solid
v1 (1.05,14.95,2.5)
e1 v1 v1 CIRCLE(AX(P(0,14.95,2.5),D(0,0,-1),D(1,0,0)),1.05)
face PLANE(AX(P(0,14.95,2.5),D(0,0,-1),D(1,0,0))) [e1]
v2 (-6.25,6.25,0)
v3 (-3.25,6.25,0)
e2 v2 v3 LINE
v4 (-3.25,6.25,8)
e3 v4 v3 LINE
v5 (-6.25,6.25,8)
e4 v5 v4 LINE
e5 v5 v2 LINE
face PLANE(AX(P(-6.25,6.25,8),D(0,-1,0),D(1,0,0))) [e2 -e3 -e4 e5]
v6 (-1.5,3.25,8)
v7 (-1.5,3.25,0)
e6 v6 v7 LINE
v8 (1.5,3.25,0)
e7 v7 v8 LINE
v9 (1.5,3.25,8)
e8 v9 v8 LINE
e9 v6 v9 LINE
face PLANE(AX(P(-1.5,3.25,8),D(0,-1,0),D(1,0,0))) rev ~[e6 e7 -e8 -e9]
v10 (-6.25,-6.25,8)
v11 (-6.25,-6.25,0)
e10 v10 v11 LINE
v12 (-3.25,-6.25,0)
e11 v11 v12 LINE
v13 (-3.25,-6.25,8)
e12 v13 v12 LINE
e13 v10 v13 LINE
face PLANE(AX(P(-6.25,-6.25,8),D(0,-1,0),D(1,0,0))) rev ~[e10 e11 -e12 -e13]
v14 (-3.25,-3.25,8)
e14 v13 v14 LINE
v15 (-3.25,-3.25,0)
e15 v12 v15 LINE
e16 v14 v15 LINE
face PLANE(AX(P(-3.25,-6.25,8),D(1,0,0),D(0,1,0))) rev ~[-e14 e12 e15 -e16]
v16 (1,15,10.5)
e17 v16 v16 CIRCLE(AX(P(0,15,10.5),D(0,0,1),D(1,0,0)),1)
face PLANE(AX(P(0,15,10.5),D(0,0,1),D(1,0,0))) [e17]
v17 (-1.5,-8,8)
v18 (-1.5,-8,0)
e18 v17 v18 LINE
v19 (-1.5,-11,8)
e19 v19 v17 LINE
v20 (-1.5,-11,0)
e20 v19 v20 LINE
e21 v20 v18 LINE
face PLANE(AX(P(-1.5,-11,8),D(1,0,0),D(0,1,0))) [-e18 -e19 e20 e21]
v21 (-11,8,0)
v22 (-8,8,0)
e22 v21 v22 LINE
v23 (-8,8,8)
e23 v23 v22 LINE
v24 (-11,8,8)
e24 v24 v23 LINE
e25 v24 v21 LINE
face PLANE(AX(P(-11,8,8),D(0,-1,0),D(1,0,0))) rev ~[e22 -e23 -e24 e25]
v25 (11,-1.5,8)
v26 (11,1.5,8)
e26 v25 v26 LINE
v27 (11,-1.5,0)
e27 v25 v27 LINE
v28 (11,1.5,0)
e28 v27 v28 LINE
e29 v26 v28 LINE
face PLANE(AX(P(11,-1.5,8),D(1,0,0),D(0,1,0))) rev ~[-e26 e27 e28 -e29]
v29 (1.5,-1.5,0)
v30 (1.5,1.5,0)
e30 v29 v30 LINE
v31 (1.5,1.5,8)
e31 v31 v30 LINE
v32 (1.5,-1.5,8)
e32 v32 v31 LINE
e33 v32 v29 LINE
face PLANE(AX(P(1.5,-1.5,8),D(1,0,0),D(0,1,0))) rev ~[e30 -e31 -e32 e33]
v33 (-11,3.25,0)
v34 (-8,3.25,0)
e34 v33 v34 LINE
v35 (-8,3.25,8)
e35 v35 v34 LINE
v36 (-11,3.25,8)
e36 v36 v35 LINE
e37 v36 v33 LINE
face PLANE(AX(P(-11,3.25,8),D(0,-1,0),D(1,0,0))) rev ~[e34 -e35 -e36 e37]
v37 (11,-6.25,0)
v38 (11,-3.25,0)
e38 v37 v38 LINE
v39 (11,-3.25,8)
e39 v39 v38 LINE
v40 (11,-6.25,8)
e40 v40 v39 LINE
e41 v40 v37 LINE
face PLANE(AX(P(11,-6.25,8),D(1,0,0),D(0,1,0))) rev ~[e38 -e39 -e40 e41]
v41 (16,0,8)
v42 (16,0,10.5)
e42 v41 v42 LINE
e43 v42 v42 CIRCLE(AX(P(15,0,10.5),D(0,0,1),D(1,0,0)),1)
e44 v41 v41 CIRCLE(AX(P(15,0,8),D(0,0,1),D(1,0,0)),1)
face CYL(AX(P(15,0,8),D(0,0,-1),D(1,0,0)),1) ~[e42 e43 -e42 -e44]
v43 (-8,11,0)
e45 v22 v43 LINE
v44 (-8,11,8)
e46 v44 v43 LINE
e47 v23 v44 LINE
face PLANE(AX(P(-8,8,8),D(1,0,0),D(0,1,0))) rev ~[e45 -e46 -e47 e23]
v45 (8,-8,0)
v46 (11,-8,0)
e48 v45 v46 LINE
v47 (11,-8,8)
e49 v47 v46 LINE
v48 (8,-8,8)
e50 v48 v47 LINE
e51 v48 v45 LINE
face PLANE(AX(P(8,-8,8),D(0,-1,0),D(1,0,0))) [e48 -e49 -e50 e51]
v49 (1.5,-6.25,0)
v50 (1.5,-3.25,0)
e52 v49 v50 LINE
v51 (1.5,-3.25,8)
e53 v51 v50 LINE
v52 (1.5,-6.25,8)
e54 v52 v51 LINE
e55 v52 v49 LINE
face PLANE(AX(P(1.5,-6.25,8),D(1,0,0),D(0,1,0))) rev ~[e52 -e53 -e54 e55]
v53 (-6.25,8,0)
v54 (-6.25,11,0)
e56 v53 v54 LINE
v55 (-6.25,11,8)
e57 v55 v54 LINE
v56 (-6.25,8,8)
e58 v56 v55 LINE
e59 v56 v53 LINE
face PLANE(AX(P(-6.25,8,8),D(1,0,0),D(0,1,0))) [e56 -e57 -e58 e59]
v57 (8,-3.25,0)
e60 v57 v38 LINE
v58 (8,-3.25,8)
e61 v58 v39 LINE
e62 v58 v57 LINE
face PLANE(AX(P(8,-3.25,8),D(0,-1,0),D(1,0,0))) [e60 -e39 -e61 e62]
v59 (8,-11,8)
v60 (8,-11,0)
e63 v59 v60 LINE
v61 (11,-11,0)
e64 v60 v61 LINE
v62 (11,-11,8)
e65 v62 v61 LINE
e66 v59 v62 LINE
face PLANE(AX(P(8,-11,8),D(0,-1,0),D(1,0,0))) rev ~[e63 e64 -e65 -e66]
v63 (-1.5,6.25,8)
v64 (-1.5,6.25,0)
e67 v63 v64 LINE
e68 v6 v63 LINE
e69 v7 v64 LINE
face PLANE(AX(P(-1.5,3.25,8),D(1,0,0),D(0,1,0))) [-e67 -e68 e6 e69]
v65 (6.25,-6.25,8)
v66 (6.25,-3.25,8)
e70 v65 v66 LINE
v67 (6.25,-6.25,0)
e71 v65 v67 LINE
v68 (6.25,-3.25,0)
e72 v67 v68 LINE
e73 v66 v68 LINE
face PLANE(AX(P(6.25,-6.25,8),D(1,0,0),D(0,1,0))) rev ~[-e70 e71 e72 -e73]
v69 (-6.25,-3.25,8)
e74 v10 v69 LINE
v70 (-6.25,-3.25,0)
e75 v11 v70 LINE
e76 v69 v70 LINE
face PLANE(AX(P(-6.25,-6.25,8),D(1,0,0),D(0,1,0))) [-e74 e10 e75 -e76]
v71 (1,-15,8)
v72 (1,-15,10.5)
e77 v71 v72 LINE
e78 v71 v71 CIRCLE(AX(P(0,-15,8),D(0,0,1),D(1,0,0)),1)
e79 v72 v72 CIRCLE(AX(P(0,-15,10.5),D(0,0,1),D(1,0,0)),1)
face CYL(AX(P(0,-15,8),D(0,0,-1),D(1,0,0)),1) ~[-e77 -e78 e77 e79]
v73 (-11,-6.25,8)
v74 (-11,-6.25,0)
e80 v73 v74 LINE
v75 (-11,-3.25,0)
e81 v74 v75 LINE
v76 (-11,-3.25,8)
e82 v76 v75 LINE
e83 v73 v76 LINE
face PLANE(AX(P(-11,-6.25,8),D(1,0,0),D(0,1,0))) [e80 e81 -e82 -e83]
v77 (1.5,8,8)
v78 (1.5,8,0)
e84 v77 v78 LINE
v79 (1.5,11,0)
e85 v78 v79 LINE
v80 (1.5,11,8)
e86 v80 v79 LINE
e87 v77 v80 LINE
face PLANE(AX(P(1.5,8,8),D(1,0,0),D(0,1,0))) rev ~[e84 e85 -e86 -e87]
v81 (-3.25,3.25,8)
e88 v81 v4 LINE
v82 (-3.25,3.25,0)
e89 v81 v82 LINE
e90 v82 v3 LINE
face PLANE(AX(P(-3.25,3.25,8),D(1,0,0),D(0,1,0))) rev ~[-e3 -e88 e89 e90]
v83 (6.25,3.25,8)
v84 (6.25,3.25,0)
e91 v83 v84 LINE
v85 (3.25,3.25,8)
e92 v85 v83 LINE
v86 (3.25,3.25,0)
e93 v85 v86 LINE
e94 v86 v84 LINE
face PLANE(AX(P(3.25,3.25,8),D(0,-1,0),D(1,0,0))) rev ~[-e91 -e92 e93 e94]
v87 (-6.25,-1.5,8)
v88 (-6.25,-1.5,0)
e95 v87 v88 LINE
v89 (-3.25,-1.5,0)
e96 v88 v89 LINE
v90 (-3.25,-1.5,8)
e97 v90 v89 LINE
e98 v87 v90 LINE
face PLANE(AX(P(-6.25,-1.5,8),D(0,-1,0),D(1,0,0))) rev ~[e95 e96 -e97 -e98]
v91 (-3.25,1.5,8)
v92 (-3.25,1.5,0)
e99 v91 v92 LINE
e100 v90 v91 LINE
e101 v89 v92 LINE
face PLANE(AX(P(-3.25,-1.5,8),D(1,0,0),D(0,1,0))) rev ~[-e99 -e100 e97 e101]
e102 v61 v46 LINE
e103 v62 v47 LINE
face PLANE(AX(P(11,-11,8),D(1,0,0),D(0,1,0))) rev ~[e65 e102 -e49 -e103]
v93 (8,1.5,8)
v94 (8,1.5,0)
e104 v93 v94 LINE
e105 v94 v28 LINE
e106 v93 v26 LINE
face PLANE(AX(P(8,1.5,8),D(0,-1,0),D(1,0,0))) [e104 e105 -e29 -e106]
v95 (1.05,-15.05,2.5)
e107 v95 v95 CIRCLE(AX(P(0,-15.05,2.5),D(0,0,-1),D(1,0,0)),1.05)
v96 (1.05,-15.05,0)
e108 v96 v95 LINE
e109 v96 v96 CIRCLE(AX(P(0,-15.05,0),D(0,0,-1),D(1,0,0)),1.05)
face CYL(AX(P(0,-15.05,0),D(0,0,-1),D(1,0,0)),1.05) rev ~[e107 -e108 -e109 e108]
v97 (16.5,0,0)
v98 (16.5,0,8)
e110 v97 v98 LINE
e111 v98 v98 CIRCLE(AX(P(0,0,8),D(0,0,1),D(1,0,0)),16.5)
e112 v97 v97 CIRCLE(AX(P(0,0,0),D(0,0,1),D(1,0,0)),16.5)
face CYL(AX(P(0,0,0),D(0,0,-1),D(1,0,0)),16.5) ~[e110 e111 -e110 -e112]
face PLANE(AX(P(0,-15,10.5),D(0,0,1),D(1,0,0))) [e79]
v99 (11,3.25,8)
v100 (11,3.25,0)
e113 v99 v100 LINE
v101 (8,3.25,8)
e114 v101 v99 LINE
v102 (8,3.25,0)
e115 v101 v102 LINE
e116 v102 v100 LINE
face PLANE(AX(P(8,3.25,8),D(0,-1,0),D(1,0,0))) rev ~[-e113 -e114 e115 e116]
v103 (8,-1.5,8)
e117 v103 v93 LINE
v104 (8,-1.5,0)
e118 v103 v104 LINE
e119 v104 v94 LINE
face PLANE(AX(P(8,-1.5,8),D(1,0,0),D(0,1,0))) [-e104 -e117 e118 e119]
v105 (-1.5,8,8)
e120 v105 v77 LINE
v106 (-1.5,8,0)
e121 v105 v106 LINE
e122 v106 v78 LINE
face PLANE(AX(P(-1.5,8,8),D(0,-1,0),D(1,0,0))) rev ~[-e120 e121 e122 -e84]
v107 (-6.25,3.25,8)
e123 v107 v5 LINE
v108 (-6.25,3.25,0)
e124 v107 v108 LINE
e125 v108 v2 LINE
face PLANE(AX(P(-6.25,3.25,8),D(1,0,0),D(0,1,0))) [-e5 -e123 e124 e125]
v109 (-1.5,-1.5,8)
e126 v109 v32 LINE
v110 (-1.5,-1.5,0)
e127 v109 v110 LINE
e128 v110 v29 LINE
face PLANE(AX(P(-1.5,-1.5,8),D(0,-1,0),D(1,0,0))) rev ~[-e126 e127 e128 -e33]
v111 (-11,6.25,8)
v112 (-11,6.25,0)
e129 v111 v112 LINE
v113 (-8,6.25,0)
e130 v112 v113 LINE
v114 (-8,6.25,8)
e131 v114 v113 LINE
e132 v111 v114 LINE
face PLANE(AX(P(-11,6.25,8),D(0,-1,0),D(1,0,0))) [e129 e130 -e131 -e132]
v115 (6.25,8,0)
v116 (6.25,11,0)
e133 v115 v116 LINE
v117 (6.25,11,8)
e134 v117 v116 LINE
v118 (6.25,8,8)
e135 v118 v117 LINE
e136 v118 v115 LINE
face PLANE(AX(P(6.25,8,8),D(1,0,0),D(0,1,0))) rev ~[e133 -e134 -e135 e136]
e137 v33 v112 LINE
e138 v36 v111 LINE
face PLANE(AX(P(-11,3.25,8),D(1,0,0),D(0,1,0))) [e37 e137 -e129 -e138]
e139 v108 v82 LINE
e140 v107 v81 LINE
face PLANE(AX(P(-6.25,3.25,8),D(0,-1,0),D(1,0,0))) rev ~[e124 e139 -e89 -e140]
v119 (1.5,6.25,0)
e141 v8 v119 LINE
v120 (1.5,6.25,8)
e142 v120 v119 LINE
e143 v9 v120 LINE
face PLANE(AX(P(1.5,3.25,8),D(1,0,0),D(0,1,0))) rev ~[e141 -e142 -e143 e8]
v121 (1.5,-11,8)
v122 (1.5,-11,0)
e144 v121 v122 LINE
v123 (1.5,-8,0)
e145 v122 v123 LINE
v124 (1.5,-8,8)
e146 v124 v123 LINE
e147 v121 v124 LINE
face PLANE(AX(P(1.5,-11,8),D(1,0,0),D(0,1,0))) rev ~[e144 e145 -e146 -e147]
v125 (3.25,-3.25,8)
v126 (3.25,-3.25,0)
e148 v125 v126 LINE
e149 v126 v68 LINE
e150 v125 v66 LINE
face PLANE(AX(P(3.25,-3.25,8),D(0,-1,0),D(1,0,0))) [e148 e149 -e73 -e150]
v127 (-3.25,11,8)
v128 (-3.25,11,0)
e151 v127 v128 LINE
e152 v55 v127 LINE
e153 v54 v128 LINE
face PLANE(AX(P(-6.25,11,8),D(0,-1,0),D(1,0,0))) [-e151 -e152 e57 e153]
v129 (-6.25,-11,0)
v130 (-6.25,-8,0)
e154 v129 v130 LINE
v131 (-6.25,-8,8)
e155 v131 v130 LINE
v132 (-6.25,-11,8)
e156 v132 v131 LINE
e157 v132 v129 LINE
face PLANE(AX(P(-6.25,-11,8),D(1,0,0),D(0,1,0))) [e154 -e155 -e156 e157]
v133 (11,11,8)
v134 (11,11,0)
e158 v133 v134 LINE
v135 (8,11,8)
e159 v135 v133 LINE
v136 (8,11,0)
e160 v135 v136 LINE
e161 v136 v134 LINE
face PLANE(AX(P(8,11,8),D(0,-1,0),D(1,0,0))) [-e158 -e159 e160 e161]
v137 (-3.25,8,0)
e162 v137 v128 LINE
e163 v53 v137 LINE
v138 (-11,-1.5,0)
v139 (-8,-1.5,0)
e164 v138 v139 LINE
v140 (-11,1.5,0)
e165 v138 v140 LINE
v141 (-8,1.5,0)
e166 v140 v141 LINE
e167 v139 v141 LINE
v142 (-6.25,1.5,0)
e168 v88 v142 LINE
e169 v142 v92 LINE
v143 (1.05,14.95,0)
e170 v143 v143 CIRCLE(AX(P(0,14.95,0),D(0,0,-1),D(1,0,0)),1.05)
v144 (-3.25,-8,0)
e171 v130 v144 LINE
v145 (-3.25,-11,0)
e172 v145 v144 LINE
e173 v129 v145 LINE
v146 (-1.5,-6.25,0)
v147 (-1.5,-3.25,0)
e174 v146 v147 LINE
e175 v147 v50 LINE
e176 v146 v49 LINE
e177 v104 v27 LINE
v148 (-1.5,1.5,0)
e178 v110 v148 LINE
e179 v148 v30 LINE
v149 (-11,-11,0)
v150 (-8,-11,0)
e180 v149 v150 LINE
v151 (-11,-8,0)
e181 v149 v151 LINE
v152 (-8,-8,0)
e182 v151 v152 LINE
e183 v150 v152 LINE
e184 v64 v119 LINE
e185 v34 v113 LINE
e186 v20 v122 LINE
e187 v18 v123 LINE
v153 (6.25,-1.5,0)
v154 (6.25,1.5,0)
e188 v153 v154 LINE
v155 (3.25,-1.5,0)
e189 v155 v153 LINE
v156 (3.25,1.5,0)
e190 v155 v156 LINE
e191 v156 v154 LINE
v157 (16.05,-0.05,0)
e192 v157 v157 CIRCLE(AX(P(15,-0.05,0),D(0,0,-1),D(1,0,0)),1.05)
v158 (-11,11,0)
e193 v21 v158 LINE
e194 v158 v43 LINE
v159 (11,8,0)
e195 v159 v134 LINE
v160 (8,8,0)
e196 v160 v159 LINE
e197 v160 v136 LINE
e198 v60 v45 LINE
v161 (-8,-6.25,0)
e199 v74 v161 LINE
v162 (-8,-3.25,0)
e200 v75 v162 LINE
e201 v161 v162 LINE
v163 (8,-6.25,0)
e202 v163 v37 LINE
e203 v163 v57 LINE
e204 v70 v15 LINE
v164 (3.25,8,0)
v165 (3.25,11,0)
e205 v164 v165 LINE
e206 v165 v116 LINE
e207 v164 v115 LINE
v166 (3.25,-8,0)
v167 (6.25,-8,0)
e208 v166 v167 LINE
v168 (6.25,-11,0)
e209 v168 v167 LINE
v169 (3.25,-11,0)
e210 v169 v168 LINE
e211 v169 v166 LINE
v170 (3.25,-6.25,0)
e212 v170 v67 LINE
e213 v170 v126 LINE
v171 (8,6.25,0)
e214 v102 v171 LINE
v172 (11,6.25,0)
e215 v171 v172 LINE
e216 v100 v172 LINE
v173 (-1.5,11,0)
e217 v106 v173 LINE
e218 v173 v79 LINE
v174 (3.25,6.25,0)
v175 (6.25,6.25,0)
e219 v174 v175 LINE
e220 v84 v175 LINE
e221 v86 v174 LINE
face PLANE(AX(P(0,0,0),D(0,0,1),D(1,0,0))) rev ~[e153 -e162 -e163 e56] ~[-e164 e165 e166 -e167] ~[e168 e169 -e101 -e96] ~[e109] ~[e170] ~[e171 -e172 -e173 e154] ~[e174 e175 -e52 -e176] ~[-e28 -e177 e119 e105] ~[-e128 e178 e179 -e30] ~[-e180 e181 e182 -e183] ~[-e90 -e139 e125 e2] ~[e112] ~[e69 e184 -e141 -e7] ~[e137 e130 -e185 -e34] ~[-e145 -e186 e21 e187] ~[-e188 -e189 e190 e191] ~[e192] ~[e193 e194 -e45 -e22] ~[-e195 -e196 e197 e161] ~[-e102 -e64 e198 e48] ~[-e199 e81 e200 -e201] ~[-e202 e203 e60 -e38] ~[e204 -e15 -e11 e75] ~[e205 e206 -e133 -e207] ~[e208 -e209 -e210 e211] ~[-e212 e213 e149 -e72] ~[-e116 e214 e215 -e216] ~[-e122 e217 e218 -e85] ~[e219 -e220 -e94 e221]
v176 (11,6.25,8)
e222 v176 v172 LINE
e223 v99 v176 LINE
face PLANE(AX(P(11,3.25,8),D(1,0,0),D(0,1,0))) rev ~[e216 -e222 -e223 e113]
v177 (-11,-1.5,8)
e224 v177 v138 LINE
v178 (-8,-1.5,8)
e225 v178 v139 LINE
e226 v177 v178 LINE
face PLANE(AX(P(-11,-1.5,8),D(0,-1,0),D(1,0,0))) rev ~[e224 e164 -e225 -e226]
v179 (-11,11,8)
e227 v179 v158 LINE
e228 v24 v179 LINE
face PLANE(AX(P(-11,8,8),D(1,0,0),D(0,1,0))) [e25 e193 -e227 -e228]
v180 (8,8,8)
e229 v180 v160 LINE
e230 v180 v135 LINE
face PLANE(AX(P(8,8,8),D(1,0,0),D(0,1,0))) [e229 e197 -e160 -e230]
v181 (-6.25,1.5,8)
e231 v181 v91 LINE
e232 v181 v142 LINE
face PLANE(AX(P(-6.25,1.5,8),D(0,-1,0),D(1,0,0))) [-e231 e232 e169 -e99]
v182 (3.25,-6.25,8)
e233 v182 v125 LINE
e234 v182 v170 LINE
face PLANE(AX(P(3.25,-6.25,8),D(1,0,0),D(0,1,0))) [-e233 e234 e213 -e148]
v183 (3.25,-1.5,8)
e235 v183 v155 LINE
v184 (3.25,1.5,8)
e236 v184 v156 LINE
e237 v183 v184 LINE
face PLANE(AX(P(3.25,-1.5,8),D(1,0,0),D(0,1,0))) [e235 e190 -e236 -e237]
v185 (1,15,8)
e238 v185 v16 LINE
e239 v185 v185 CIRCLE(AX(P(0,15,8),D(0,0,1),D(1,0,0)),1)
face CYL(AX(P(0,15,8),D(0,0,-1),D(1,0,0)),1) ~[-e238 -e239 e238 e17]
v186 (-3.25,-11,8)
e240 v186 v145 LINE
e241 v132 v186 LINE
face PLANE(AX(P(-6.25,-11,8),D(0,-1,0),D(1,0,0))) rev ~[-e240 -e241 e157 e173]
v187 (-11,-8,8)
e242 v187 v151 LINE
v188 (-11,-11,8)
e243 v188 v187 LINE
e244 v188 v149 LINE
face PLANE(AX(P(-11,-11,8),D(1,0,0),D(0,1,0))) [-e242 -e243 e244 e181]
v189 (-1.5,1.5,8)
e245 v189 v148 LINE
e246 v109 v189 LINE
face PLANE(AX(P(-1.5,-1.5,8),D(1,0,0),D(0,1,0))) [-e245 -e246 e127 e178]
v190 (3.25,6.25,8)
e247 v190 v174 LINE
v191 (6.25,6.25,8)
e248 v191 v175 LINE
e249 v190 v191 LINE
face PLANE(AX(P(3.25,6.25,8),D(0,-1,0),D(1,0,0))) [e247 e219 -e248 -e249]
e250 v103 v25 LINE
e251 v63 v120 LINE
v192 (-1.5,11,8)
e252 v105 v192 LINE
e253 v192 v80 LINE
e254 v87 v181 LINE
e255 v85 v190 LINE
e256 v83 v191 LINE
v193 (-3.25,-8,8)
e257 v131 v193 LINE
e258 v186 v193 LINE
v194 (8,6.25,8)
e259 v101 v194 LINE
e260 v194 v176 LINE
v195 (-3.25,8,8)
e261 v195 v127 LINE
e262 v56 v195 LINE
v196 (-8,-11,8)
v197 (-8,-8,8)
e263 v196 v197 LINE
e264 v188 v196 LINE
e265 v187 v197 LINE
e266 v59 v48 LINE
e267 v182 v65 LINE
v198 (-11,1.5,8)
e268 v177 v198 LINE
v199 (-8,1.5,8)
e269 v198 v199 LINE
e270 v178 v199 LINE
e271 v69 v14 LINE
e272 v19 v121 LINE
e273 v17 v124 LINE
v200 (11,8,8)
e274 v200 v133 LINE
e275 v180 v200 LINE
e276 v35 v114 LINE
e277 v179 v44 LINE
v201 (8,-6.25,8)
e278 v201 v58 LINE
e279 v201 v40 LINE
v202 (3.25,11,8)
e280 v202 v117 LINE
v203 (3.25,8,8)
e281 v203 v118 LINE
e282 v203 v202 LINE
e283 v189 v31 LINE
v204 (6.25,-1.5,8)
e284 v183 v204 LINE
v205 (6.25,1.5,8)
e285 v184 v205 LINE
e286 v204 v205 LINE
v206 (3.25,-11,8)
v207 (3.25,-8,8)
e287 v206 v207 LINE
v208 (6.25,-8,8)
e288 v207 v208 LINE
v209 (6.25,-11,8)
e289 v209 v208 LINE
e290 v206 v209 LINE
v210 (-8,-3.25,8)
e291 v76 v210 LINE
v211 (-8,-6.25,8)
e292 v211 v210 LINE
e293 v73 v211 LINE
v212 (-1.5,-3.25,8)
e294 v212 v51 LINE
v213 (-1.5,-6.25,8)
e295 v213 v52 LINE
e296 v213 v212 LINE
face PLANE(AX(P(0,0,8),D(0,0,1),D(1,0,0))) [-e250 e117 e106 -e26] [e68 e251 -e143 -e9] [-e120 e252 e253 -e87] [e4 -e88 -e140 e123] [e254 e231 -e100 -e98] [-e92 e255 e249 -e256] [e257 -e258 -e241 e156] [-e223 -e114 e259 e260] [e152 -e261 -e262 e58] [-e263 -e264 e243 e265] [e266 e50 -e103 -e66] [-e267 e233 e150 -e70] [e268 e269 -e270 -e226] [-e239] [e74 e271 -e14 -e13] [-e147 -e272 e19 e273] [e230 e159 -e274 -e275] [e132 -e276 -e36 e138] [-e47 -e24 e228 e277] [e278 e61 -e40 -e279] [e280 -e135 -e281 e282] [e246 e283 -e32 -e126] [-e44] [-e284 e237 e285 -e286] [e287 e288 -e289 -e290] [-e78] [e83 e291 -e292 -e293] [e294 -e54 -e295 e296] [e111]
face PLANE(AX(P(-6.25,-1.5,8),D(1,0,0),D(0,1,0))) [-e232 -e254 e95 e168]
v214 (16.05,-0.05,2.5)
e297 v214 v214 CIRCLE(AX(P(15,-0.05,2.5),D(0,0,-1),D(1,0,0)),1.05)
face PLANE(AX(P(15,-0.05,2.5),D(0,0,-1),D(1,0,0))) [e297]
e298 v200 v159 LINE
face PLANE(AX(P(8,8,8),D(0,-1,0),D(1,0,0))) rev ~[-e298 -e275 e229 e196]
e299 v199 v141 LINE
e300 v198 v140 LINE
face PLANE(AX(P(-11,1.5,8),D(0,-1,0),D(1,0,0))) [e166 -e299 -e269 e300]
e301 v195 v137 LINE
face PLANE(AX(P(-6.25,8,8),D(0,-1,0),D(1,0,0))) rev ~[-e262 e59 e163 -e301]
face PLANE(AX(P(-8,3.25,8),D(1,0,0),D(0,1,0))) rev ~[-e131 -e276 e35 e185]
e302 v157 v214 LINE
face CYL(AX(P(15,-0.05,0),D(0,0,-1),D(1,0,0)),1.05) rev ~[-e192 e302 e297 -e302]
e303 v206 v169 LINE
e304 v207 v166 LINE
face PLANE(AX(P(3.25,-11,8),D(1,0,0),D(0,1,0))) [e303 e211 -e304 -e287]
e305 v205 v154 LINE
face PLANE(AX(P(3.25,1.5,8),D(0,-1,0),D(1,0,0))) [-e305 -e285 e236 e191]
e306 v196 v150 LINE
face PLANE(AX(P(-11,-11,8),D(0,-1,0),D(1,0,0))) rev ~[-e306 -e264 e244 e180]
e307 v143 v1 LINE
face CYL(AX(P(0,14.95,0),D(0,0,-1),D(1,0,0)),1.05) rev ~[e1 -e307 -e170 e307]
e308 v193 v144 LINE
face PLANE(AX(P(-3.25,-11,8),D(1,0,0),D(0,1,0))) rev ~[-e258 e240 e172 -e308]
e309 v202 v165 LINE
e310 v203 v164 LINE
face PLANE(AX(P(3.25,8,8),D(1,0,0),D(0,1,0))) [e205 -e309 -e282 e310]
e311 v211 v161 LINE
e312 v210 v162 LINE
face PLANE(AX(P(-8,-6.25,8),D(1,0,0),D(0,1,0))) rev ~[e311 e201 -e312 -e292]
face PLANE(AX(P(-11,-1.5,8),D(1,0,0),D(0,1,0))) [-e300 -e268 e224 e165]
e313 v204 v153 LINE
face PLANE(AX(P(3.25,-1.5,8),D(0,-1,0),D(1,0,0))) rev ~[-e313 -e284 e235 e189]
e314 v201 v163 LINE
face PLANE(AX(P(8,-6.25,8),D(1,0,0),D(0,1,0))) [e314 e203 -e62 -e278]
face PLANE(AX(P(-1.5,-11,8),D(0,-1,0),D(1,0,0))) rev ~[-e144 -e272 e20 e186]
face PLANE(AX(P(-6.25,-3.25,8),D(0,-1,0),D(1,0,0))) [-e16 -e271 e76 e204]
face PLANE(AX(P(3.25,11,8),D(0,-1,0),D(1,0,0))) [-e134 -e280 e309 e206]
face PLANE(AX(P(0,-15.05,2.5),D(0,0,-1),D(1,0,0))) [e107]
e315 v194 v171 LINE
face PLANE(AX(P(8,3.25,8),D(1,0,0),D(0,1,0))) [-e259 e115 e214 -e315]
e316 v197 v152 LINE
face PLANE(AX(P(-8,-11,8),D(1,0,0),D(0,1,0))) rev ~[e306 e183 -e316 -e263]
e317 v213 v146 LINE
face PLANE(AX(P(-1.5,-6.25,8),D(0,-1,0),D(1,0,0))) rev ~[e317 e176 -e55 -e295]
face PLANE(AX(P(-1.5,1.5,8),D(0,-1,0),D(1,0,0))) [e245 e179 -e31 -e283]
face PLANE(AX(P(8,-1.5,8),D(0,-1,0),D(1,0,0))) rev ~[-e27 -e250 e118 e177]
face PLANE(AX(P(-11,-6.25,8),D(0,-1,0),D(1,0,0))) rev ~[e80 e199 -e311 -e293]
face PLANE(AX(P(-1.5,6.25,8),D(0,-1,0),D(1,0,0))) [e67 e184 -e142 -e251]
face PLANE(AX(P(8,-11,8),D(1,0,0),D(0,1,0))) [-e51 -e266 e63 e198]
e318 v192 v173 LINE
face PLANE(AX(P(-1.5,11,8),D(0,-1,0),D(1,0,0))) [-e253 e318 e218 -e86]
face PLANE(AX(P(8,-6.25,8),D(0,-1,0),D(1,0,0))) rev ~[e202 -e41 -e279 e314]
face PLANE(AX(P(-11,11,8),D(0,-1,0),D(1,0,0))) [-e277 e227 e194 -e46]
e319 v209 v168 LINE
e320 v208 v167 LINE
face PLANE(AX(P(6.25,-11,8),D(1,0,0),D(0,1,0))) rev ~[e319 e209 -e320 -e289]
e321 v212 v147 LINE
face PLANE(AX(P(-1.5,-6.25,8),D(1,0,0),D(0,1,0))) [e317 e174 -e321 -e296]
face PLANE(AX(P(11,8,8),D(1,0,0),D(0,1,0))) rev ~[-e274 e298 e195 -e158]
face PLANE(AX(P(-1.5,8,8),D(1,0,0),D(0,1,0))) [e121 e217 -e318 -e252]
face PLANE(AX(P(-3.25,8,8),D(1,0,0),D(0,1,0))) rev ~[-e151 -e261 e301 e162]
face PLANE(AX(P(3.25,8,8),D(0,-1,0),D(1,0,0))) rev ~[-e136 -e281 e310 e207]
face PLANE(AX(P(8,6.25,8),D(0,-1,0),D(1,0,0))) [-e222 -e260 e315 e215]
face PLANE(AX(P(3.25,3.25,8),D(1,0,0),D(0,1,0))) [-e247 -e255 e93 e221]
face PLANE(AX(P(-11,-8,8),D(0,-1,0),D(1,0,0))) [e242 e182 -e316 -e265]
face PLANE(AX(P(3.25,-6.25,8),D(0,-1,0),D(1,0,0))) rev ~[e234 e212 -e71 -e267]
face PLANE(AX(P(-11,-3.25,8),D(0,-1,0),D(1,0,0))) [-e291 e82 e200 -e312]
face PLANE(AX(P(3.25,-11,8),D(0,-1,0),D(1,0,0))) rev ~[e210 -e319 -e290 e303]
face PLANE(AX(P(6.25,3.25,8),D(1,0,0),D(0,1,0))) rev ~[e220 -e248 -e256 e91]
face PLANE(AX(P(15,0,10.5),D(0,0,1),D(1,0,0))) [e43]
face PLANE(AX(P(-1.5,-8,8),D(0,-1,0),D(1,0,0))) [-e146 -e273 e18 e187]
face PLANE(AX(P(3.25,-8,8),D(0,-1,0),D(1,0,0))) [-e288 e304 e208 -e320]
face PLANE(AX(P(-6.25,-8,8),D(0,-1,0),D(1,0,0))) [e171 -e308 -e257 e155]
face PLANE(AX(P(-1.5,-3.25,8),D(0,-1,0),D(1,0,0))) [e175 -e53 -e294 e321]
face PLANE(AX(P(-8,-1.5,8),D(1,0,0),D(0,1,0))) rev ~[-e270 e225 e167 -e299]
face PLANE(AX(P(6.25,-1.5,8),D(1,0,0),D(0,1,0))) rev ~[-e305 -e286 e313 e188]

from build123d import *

# Parameters (mm, degrees)
F0_R     = 16.5
F1_DEPTH = 8
F2_R     = 1.05
F3_DEPTH = 2.5
F4_R     = 1
F5_DEPTH = 2.5
F6_W     = 3
F6_H     = 3
F7_DEPTH = 8.001


with BuildPart() as f1:
    # F0 (on Top) → F1 (new body)
    with BuildSketch(Plane.XY):
        Circle(F0_R)
    extrude(amount=F1_DEPTH)

    # F2 (on face) → F3 (cut)
    with BuildSketch(Plane(origin=(0, 0, 0), x_dir=(1, 0, 0), z_dir=(0, 0, -1))):
        with Locations((0, 15.05)):
            Circle(F2_R)
        with Locations((15, 0.05)):
            Circle(F2_R)
        with Locations((0, -14.95)):
            Circle(F2_R)
    extrude(amount=-F3_DEPTH, mode=Mode.SUBTRACT)

    # F4 (on face) → F5 (join)
    with BuildSketch(Plane.XY.offset(8)):
        with Locations((0, 15)):
            Circle(F4_R)
        with Locations((15, 0)):
            Circle(F4_R)
        with Locations((0, -15)):
            Circle(F4_R)
    extrude(amount=F5_DEPTH)

    # F6 (on face) → F7 (cut, through all)
    with BuildSketch(Plane.XY.offset(8)):
        with Locations((-9.5, 9.5)):
            Rectangle(F6_W, F6_H)
        with Locations((-9.5, 4.75)):
            Rectangle(F6_W, F6_H)
        with Locations((-9.5, 0)):
            Rectangle(F6_W, F6_H)
        with Locations((-9.5, -4.75)):
            Rectangle(F6_W, F6_H)
        with Locations((-9.5, -9.5)):
            Rectangle(F6_W, F6_H)
        with Locations((-4.75, 9.5)):
            Rectangle(F6_W, F6_H)
        with Locations((-4.75, 4.75)):
            Rectangle(F6_W, F6_H)
        with Locations((-4.75, 0)):
            Rectangle(F6_W, F6_H)
        with Locations((-4.75, -4.75)):
            Rectangle(F6_W, F6_H)
        with Locations((-4.75, -9.5)):
            Rectangle(F6_W, F6_H)
        with Locations((0, 9.5)):
            Rectangle(F6_W, F6_H)
        with Locations((0, 4.75)):
            Rectangle(F6_W, F6_H)
        Rectangle(F6_W, F6_H)
        with Locations((0, -4.75)):
            Rectangle(F6_W, F6_H)
        with Locations((0, -9.5)):
            Rectangle(F6_W, F6_H)
        with Locations((4.75, 9.5)):
            Rectangle(F6_W, F6_H)
        with Locations((4.75, 4.75)):
            Rectangle(F6_W, F6_H)
        with Locations((4.75, 0)):
            Rectangle(F6_W, F6_H)
        with Locations((4.75, -4.75)):
            Rectangle(F6_W, F6_H)
        with Locations((4.75, -9.5)):
            Rectangle(F6_W, F6_H)
        with Locations((9.5, 9.5)):
            Rectangle(F6_W, F6_H)
        with Locations((9.5, 4.75)):
            Rectangle(F6_W, F6_H)
        with Locations((9.5, 0)):
            Rectangle(F6_W, F6_H)
        with Locations((9.5, -4.75)):
            Rectangle(F6_W, F6_H)
        with Locations((9.5, -9.5)):
            Rectangle(F6_W, F6_H)
    extrude(amount=-F7_DEPTH, mode=Mode.SUBTRACT)


solid = f1.part
